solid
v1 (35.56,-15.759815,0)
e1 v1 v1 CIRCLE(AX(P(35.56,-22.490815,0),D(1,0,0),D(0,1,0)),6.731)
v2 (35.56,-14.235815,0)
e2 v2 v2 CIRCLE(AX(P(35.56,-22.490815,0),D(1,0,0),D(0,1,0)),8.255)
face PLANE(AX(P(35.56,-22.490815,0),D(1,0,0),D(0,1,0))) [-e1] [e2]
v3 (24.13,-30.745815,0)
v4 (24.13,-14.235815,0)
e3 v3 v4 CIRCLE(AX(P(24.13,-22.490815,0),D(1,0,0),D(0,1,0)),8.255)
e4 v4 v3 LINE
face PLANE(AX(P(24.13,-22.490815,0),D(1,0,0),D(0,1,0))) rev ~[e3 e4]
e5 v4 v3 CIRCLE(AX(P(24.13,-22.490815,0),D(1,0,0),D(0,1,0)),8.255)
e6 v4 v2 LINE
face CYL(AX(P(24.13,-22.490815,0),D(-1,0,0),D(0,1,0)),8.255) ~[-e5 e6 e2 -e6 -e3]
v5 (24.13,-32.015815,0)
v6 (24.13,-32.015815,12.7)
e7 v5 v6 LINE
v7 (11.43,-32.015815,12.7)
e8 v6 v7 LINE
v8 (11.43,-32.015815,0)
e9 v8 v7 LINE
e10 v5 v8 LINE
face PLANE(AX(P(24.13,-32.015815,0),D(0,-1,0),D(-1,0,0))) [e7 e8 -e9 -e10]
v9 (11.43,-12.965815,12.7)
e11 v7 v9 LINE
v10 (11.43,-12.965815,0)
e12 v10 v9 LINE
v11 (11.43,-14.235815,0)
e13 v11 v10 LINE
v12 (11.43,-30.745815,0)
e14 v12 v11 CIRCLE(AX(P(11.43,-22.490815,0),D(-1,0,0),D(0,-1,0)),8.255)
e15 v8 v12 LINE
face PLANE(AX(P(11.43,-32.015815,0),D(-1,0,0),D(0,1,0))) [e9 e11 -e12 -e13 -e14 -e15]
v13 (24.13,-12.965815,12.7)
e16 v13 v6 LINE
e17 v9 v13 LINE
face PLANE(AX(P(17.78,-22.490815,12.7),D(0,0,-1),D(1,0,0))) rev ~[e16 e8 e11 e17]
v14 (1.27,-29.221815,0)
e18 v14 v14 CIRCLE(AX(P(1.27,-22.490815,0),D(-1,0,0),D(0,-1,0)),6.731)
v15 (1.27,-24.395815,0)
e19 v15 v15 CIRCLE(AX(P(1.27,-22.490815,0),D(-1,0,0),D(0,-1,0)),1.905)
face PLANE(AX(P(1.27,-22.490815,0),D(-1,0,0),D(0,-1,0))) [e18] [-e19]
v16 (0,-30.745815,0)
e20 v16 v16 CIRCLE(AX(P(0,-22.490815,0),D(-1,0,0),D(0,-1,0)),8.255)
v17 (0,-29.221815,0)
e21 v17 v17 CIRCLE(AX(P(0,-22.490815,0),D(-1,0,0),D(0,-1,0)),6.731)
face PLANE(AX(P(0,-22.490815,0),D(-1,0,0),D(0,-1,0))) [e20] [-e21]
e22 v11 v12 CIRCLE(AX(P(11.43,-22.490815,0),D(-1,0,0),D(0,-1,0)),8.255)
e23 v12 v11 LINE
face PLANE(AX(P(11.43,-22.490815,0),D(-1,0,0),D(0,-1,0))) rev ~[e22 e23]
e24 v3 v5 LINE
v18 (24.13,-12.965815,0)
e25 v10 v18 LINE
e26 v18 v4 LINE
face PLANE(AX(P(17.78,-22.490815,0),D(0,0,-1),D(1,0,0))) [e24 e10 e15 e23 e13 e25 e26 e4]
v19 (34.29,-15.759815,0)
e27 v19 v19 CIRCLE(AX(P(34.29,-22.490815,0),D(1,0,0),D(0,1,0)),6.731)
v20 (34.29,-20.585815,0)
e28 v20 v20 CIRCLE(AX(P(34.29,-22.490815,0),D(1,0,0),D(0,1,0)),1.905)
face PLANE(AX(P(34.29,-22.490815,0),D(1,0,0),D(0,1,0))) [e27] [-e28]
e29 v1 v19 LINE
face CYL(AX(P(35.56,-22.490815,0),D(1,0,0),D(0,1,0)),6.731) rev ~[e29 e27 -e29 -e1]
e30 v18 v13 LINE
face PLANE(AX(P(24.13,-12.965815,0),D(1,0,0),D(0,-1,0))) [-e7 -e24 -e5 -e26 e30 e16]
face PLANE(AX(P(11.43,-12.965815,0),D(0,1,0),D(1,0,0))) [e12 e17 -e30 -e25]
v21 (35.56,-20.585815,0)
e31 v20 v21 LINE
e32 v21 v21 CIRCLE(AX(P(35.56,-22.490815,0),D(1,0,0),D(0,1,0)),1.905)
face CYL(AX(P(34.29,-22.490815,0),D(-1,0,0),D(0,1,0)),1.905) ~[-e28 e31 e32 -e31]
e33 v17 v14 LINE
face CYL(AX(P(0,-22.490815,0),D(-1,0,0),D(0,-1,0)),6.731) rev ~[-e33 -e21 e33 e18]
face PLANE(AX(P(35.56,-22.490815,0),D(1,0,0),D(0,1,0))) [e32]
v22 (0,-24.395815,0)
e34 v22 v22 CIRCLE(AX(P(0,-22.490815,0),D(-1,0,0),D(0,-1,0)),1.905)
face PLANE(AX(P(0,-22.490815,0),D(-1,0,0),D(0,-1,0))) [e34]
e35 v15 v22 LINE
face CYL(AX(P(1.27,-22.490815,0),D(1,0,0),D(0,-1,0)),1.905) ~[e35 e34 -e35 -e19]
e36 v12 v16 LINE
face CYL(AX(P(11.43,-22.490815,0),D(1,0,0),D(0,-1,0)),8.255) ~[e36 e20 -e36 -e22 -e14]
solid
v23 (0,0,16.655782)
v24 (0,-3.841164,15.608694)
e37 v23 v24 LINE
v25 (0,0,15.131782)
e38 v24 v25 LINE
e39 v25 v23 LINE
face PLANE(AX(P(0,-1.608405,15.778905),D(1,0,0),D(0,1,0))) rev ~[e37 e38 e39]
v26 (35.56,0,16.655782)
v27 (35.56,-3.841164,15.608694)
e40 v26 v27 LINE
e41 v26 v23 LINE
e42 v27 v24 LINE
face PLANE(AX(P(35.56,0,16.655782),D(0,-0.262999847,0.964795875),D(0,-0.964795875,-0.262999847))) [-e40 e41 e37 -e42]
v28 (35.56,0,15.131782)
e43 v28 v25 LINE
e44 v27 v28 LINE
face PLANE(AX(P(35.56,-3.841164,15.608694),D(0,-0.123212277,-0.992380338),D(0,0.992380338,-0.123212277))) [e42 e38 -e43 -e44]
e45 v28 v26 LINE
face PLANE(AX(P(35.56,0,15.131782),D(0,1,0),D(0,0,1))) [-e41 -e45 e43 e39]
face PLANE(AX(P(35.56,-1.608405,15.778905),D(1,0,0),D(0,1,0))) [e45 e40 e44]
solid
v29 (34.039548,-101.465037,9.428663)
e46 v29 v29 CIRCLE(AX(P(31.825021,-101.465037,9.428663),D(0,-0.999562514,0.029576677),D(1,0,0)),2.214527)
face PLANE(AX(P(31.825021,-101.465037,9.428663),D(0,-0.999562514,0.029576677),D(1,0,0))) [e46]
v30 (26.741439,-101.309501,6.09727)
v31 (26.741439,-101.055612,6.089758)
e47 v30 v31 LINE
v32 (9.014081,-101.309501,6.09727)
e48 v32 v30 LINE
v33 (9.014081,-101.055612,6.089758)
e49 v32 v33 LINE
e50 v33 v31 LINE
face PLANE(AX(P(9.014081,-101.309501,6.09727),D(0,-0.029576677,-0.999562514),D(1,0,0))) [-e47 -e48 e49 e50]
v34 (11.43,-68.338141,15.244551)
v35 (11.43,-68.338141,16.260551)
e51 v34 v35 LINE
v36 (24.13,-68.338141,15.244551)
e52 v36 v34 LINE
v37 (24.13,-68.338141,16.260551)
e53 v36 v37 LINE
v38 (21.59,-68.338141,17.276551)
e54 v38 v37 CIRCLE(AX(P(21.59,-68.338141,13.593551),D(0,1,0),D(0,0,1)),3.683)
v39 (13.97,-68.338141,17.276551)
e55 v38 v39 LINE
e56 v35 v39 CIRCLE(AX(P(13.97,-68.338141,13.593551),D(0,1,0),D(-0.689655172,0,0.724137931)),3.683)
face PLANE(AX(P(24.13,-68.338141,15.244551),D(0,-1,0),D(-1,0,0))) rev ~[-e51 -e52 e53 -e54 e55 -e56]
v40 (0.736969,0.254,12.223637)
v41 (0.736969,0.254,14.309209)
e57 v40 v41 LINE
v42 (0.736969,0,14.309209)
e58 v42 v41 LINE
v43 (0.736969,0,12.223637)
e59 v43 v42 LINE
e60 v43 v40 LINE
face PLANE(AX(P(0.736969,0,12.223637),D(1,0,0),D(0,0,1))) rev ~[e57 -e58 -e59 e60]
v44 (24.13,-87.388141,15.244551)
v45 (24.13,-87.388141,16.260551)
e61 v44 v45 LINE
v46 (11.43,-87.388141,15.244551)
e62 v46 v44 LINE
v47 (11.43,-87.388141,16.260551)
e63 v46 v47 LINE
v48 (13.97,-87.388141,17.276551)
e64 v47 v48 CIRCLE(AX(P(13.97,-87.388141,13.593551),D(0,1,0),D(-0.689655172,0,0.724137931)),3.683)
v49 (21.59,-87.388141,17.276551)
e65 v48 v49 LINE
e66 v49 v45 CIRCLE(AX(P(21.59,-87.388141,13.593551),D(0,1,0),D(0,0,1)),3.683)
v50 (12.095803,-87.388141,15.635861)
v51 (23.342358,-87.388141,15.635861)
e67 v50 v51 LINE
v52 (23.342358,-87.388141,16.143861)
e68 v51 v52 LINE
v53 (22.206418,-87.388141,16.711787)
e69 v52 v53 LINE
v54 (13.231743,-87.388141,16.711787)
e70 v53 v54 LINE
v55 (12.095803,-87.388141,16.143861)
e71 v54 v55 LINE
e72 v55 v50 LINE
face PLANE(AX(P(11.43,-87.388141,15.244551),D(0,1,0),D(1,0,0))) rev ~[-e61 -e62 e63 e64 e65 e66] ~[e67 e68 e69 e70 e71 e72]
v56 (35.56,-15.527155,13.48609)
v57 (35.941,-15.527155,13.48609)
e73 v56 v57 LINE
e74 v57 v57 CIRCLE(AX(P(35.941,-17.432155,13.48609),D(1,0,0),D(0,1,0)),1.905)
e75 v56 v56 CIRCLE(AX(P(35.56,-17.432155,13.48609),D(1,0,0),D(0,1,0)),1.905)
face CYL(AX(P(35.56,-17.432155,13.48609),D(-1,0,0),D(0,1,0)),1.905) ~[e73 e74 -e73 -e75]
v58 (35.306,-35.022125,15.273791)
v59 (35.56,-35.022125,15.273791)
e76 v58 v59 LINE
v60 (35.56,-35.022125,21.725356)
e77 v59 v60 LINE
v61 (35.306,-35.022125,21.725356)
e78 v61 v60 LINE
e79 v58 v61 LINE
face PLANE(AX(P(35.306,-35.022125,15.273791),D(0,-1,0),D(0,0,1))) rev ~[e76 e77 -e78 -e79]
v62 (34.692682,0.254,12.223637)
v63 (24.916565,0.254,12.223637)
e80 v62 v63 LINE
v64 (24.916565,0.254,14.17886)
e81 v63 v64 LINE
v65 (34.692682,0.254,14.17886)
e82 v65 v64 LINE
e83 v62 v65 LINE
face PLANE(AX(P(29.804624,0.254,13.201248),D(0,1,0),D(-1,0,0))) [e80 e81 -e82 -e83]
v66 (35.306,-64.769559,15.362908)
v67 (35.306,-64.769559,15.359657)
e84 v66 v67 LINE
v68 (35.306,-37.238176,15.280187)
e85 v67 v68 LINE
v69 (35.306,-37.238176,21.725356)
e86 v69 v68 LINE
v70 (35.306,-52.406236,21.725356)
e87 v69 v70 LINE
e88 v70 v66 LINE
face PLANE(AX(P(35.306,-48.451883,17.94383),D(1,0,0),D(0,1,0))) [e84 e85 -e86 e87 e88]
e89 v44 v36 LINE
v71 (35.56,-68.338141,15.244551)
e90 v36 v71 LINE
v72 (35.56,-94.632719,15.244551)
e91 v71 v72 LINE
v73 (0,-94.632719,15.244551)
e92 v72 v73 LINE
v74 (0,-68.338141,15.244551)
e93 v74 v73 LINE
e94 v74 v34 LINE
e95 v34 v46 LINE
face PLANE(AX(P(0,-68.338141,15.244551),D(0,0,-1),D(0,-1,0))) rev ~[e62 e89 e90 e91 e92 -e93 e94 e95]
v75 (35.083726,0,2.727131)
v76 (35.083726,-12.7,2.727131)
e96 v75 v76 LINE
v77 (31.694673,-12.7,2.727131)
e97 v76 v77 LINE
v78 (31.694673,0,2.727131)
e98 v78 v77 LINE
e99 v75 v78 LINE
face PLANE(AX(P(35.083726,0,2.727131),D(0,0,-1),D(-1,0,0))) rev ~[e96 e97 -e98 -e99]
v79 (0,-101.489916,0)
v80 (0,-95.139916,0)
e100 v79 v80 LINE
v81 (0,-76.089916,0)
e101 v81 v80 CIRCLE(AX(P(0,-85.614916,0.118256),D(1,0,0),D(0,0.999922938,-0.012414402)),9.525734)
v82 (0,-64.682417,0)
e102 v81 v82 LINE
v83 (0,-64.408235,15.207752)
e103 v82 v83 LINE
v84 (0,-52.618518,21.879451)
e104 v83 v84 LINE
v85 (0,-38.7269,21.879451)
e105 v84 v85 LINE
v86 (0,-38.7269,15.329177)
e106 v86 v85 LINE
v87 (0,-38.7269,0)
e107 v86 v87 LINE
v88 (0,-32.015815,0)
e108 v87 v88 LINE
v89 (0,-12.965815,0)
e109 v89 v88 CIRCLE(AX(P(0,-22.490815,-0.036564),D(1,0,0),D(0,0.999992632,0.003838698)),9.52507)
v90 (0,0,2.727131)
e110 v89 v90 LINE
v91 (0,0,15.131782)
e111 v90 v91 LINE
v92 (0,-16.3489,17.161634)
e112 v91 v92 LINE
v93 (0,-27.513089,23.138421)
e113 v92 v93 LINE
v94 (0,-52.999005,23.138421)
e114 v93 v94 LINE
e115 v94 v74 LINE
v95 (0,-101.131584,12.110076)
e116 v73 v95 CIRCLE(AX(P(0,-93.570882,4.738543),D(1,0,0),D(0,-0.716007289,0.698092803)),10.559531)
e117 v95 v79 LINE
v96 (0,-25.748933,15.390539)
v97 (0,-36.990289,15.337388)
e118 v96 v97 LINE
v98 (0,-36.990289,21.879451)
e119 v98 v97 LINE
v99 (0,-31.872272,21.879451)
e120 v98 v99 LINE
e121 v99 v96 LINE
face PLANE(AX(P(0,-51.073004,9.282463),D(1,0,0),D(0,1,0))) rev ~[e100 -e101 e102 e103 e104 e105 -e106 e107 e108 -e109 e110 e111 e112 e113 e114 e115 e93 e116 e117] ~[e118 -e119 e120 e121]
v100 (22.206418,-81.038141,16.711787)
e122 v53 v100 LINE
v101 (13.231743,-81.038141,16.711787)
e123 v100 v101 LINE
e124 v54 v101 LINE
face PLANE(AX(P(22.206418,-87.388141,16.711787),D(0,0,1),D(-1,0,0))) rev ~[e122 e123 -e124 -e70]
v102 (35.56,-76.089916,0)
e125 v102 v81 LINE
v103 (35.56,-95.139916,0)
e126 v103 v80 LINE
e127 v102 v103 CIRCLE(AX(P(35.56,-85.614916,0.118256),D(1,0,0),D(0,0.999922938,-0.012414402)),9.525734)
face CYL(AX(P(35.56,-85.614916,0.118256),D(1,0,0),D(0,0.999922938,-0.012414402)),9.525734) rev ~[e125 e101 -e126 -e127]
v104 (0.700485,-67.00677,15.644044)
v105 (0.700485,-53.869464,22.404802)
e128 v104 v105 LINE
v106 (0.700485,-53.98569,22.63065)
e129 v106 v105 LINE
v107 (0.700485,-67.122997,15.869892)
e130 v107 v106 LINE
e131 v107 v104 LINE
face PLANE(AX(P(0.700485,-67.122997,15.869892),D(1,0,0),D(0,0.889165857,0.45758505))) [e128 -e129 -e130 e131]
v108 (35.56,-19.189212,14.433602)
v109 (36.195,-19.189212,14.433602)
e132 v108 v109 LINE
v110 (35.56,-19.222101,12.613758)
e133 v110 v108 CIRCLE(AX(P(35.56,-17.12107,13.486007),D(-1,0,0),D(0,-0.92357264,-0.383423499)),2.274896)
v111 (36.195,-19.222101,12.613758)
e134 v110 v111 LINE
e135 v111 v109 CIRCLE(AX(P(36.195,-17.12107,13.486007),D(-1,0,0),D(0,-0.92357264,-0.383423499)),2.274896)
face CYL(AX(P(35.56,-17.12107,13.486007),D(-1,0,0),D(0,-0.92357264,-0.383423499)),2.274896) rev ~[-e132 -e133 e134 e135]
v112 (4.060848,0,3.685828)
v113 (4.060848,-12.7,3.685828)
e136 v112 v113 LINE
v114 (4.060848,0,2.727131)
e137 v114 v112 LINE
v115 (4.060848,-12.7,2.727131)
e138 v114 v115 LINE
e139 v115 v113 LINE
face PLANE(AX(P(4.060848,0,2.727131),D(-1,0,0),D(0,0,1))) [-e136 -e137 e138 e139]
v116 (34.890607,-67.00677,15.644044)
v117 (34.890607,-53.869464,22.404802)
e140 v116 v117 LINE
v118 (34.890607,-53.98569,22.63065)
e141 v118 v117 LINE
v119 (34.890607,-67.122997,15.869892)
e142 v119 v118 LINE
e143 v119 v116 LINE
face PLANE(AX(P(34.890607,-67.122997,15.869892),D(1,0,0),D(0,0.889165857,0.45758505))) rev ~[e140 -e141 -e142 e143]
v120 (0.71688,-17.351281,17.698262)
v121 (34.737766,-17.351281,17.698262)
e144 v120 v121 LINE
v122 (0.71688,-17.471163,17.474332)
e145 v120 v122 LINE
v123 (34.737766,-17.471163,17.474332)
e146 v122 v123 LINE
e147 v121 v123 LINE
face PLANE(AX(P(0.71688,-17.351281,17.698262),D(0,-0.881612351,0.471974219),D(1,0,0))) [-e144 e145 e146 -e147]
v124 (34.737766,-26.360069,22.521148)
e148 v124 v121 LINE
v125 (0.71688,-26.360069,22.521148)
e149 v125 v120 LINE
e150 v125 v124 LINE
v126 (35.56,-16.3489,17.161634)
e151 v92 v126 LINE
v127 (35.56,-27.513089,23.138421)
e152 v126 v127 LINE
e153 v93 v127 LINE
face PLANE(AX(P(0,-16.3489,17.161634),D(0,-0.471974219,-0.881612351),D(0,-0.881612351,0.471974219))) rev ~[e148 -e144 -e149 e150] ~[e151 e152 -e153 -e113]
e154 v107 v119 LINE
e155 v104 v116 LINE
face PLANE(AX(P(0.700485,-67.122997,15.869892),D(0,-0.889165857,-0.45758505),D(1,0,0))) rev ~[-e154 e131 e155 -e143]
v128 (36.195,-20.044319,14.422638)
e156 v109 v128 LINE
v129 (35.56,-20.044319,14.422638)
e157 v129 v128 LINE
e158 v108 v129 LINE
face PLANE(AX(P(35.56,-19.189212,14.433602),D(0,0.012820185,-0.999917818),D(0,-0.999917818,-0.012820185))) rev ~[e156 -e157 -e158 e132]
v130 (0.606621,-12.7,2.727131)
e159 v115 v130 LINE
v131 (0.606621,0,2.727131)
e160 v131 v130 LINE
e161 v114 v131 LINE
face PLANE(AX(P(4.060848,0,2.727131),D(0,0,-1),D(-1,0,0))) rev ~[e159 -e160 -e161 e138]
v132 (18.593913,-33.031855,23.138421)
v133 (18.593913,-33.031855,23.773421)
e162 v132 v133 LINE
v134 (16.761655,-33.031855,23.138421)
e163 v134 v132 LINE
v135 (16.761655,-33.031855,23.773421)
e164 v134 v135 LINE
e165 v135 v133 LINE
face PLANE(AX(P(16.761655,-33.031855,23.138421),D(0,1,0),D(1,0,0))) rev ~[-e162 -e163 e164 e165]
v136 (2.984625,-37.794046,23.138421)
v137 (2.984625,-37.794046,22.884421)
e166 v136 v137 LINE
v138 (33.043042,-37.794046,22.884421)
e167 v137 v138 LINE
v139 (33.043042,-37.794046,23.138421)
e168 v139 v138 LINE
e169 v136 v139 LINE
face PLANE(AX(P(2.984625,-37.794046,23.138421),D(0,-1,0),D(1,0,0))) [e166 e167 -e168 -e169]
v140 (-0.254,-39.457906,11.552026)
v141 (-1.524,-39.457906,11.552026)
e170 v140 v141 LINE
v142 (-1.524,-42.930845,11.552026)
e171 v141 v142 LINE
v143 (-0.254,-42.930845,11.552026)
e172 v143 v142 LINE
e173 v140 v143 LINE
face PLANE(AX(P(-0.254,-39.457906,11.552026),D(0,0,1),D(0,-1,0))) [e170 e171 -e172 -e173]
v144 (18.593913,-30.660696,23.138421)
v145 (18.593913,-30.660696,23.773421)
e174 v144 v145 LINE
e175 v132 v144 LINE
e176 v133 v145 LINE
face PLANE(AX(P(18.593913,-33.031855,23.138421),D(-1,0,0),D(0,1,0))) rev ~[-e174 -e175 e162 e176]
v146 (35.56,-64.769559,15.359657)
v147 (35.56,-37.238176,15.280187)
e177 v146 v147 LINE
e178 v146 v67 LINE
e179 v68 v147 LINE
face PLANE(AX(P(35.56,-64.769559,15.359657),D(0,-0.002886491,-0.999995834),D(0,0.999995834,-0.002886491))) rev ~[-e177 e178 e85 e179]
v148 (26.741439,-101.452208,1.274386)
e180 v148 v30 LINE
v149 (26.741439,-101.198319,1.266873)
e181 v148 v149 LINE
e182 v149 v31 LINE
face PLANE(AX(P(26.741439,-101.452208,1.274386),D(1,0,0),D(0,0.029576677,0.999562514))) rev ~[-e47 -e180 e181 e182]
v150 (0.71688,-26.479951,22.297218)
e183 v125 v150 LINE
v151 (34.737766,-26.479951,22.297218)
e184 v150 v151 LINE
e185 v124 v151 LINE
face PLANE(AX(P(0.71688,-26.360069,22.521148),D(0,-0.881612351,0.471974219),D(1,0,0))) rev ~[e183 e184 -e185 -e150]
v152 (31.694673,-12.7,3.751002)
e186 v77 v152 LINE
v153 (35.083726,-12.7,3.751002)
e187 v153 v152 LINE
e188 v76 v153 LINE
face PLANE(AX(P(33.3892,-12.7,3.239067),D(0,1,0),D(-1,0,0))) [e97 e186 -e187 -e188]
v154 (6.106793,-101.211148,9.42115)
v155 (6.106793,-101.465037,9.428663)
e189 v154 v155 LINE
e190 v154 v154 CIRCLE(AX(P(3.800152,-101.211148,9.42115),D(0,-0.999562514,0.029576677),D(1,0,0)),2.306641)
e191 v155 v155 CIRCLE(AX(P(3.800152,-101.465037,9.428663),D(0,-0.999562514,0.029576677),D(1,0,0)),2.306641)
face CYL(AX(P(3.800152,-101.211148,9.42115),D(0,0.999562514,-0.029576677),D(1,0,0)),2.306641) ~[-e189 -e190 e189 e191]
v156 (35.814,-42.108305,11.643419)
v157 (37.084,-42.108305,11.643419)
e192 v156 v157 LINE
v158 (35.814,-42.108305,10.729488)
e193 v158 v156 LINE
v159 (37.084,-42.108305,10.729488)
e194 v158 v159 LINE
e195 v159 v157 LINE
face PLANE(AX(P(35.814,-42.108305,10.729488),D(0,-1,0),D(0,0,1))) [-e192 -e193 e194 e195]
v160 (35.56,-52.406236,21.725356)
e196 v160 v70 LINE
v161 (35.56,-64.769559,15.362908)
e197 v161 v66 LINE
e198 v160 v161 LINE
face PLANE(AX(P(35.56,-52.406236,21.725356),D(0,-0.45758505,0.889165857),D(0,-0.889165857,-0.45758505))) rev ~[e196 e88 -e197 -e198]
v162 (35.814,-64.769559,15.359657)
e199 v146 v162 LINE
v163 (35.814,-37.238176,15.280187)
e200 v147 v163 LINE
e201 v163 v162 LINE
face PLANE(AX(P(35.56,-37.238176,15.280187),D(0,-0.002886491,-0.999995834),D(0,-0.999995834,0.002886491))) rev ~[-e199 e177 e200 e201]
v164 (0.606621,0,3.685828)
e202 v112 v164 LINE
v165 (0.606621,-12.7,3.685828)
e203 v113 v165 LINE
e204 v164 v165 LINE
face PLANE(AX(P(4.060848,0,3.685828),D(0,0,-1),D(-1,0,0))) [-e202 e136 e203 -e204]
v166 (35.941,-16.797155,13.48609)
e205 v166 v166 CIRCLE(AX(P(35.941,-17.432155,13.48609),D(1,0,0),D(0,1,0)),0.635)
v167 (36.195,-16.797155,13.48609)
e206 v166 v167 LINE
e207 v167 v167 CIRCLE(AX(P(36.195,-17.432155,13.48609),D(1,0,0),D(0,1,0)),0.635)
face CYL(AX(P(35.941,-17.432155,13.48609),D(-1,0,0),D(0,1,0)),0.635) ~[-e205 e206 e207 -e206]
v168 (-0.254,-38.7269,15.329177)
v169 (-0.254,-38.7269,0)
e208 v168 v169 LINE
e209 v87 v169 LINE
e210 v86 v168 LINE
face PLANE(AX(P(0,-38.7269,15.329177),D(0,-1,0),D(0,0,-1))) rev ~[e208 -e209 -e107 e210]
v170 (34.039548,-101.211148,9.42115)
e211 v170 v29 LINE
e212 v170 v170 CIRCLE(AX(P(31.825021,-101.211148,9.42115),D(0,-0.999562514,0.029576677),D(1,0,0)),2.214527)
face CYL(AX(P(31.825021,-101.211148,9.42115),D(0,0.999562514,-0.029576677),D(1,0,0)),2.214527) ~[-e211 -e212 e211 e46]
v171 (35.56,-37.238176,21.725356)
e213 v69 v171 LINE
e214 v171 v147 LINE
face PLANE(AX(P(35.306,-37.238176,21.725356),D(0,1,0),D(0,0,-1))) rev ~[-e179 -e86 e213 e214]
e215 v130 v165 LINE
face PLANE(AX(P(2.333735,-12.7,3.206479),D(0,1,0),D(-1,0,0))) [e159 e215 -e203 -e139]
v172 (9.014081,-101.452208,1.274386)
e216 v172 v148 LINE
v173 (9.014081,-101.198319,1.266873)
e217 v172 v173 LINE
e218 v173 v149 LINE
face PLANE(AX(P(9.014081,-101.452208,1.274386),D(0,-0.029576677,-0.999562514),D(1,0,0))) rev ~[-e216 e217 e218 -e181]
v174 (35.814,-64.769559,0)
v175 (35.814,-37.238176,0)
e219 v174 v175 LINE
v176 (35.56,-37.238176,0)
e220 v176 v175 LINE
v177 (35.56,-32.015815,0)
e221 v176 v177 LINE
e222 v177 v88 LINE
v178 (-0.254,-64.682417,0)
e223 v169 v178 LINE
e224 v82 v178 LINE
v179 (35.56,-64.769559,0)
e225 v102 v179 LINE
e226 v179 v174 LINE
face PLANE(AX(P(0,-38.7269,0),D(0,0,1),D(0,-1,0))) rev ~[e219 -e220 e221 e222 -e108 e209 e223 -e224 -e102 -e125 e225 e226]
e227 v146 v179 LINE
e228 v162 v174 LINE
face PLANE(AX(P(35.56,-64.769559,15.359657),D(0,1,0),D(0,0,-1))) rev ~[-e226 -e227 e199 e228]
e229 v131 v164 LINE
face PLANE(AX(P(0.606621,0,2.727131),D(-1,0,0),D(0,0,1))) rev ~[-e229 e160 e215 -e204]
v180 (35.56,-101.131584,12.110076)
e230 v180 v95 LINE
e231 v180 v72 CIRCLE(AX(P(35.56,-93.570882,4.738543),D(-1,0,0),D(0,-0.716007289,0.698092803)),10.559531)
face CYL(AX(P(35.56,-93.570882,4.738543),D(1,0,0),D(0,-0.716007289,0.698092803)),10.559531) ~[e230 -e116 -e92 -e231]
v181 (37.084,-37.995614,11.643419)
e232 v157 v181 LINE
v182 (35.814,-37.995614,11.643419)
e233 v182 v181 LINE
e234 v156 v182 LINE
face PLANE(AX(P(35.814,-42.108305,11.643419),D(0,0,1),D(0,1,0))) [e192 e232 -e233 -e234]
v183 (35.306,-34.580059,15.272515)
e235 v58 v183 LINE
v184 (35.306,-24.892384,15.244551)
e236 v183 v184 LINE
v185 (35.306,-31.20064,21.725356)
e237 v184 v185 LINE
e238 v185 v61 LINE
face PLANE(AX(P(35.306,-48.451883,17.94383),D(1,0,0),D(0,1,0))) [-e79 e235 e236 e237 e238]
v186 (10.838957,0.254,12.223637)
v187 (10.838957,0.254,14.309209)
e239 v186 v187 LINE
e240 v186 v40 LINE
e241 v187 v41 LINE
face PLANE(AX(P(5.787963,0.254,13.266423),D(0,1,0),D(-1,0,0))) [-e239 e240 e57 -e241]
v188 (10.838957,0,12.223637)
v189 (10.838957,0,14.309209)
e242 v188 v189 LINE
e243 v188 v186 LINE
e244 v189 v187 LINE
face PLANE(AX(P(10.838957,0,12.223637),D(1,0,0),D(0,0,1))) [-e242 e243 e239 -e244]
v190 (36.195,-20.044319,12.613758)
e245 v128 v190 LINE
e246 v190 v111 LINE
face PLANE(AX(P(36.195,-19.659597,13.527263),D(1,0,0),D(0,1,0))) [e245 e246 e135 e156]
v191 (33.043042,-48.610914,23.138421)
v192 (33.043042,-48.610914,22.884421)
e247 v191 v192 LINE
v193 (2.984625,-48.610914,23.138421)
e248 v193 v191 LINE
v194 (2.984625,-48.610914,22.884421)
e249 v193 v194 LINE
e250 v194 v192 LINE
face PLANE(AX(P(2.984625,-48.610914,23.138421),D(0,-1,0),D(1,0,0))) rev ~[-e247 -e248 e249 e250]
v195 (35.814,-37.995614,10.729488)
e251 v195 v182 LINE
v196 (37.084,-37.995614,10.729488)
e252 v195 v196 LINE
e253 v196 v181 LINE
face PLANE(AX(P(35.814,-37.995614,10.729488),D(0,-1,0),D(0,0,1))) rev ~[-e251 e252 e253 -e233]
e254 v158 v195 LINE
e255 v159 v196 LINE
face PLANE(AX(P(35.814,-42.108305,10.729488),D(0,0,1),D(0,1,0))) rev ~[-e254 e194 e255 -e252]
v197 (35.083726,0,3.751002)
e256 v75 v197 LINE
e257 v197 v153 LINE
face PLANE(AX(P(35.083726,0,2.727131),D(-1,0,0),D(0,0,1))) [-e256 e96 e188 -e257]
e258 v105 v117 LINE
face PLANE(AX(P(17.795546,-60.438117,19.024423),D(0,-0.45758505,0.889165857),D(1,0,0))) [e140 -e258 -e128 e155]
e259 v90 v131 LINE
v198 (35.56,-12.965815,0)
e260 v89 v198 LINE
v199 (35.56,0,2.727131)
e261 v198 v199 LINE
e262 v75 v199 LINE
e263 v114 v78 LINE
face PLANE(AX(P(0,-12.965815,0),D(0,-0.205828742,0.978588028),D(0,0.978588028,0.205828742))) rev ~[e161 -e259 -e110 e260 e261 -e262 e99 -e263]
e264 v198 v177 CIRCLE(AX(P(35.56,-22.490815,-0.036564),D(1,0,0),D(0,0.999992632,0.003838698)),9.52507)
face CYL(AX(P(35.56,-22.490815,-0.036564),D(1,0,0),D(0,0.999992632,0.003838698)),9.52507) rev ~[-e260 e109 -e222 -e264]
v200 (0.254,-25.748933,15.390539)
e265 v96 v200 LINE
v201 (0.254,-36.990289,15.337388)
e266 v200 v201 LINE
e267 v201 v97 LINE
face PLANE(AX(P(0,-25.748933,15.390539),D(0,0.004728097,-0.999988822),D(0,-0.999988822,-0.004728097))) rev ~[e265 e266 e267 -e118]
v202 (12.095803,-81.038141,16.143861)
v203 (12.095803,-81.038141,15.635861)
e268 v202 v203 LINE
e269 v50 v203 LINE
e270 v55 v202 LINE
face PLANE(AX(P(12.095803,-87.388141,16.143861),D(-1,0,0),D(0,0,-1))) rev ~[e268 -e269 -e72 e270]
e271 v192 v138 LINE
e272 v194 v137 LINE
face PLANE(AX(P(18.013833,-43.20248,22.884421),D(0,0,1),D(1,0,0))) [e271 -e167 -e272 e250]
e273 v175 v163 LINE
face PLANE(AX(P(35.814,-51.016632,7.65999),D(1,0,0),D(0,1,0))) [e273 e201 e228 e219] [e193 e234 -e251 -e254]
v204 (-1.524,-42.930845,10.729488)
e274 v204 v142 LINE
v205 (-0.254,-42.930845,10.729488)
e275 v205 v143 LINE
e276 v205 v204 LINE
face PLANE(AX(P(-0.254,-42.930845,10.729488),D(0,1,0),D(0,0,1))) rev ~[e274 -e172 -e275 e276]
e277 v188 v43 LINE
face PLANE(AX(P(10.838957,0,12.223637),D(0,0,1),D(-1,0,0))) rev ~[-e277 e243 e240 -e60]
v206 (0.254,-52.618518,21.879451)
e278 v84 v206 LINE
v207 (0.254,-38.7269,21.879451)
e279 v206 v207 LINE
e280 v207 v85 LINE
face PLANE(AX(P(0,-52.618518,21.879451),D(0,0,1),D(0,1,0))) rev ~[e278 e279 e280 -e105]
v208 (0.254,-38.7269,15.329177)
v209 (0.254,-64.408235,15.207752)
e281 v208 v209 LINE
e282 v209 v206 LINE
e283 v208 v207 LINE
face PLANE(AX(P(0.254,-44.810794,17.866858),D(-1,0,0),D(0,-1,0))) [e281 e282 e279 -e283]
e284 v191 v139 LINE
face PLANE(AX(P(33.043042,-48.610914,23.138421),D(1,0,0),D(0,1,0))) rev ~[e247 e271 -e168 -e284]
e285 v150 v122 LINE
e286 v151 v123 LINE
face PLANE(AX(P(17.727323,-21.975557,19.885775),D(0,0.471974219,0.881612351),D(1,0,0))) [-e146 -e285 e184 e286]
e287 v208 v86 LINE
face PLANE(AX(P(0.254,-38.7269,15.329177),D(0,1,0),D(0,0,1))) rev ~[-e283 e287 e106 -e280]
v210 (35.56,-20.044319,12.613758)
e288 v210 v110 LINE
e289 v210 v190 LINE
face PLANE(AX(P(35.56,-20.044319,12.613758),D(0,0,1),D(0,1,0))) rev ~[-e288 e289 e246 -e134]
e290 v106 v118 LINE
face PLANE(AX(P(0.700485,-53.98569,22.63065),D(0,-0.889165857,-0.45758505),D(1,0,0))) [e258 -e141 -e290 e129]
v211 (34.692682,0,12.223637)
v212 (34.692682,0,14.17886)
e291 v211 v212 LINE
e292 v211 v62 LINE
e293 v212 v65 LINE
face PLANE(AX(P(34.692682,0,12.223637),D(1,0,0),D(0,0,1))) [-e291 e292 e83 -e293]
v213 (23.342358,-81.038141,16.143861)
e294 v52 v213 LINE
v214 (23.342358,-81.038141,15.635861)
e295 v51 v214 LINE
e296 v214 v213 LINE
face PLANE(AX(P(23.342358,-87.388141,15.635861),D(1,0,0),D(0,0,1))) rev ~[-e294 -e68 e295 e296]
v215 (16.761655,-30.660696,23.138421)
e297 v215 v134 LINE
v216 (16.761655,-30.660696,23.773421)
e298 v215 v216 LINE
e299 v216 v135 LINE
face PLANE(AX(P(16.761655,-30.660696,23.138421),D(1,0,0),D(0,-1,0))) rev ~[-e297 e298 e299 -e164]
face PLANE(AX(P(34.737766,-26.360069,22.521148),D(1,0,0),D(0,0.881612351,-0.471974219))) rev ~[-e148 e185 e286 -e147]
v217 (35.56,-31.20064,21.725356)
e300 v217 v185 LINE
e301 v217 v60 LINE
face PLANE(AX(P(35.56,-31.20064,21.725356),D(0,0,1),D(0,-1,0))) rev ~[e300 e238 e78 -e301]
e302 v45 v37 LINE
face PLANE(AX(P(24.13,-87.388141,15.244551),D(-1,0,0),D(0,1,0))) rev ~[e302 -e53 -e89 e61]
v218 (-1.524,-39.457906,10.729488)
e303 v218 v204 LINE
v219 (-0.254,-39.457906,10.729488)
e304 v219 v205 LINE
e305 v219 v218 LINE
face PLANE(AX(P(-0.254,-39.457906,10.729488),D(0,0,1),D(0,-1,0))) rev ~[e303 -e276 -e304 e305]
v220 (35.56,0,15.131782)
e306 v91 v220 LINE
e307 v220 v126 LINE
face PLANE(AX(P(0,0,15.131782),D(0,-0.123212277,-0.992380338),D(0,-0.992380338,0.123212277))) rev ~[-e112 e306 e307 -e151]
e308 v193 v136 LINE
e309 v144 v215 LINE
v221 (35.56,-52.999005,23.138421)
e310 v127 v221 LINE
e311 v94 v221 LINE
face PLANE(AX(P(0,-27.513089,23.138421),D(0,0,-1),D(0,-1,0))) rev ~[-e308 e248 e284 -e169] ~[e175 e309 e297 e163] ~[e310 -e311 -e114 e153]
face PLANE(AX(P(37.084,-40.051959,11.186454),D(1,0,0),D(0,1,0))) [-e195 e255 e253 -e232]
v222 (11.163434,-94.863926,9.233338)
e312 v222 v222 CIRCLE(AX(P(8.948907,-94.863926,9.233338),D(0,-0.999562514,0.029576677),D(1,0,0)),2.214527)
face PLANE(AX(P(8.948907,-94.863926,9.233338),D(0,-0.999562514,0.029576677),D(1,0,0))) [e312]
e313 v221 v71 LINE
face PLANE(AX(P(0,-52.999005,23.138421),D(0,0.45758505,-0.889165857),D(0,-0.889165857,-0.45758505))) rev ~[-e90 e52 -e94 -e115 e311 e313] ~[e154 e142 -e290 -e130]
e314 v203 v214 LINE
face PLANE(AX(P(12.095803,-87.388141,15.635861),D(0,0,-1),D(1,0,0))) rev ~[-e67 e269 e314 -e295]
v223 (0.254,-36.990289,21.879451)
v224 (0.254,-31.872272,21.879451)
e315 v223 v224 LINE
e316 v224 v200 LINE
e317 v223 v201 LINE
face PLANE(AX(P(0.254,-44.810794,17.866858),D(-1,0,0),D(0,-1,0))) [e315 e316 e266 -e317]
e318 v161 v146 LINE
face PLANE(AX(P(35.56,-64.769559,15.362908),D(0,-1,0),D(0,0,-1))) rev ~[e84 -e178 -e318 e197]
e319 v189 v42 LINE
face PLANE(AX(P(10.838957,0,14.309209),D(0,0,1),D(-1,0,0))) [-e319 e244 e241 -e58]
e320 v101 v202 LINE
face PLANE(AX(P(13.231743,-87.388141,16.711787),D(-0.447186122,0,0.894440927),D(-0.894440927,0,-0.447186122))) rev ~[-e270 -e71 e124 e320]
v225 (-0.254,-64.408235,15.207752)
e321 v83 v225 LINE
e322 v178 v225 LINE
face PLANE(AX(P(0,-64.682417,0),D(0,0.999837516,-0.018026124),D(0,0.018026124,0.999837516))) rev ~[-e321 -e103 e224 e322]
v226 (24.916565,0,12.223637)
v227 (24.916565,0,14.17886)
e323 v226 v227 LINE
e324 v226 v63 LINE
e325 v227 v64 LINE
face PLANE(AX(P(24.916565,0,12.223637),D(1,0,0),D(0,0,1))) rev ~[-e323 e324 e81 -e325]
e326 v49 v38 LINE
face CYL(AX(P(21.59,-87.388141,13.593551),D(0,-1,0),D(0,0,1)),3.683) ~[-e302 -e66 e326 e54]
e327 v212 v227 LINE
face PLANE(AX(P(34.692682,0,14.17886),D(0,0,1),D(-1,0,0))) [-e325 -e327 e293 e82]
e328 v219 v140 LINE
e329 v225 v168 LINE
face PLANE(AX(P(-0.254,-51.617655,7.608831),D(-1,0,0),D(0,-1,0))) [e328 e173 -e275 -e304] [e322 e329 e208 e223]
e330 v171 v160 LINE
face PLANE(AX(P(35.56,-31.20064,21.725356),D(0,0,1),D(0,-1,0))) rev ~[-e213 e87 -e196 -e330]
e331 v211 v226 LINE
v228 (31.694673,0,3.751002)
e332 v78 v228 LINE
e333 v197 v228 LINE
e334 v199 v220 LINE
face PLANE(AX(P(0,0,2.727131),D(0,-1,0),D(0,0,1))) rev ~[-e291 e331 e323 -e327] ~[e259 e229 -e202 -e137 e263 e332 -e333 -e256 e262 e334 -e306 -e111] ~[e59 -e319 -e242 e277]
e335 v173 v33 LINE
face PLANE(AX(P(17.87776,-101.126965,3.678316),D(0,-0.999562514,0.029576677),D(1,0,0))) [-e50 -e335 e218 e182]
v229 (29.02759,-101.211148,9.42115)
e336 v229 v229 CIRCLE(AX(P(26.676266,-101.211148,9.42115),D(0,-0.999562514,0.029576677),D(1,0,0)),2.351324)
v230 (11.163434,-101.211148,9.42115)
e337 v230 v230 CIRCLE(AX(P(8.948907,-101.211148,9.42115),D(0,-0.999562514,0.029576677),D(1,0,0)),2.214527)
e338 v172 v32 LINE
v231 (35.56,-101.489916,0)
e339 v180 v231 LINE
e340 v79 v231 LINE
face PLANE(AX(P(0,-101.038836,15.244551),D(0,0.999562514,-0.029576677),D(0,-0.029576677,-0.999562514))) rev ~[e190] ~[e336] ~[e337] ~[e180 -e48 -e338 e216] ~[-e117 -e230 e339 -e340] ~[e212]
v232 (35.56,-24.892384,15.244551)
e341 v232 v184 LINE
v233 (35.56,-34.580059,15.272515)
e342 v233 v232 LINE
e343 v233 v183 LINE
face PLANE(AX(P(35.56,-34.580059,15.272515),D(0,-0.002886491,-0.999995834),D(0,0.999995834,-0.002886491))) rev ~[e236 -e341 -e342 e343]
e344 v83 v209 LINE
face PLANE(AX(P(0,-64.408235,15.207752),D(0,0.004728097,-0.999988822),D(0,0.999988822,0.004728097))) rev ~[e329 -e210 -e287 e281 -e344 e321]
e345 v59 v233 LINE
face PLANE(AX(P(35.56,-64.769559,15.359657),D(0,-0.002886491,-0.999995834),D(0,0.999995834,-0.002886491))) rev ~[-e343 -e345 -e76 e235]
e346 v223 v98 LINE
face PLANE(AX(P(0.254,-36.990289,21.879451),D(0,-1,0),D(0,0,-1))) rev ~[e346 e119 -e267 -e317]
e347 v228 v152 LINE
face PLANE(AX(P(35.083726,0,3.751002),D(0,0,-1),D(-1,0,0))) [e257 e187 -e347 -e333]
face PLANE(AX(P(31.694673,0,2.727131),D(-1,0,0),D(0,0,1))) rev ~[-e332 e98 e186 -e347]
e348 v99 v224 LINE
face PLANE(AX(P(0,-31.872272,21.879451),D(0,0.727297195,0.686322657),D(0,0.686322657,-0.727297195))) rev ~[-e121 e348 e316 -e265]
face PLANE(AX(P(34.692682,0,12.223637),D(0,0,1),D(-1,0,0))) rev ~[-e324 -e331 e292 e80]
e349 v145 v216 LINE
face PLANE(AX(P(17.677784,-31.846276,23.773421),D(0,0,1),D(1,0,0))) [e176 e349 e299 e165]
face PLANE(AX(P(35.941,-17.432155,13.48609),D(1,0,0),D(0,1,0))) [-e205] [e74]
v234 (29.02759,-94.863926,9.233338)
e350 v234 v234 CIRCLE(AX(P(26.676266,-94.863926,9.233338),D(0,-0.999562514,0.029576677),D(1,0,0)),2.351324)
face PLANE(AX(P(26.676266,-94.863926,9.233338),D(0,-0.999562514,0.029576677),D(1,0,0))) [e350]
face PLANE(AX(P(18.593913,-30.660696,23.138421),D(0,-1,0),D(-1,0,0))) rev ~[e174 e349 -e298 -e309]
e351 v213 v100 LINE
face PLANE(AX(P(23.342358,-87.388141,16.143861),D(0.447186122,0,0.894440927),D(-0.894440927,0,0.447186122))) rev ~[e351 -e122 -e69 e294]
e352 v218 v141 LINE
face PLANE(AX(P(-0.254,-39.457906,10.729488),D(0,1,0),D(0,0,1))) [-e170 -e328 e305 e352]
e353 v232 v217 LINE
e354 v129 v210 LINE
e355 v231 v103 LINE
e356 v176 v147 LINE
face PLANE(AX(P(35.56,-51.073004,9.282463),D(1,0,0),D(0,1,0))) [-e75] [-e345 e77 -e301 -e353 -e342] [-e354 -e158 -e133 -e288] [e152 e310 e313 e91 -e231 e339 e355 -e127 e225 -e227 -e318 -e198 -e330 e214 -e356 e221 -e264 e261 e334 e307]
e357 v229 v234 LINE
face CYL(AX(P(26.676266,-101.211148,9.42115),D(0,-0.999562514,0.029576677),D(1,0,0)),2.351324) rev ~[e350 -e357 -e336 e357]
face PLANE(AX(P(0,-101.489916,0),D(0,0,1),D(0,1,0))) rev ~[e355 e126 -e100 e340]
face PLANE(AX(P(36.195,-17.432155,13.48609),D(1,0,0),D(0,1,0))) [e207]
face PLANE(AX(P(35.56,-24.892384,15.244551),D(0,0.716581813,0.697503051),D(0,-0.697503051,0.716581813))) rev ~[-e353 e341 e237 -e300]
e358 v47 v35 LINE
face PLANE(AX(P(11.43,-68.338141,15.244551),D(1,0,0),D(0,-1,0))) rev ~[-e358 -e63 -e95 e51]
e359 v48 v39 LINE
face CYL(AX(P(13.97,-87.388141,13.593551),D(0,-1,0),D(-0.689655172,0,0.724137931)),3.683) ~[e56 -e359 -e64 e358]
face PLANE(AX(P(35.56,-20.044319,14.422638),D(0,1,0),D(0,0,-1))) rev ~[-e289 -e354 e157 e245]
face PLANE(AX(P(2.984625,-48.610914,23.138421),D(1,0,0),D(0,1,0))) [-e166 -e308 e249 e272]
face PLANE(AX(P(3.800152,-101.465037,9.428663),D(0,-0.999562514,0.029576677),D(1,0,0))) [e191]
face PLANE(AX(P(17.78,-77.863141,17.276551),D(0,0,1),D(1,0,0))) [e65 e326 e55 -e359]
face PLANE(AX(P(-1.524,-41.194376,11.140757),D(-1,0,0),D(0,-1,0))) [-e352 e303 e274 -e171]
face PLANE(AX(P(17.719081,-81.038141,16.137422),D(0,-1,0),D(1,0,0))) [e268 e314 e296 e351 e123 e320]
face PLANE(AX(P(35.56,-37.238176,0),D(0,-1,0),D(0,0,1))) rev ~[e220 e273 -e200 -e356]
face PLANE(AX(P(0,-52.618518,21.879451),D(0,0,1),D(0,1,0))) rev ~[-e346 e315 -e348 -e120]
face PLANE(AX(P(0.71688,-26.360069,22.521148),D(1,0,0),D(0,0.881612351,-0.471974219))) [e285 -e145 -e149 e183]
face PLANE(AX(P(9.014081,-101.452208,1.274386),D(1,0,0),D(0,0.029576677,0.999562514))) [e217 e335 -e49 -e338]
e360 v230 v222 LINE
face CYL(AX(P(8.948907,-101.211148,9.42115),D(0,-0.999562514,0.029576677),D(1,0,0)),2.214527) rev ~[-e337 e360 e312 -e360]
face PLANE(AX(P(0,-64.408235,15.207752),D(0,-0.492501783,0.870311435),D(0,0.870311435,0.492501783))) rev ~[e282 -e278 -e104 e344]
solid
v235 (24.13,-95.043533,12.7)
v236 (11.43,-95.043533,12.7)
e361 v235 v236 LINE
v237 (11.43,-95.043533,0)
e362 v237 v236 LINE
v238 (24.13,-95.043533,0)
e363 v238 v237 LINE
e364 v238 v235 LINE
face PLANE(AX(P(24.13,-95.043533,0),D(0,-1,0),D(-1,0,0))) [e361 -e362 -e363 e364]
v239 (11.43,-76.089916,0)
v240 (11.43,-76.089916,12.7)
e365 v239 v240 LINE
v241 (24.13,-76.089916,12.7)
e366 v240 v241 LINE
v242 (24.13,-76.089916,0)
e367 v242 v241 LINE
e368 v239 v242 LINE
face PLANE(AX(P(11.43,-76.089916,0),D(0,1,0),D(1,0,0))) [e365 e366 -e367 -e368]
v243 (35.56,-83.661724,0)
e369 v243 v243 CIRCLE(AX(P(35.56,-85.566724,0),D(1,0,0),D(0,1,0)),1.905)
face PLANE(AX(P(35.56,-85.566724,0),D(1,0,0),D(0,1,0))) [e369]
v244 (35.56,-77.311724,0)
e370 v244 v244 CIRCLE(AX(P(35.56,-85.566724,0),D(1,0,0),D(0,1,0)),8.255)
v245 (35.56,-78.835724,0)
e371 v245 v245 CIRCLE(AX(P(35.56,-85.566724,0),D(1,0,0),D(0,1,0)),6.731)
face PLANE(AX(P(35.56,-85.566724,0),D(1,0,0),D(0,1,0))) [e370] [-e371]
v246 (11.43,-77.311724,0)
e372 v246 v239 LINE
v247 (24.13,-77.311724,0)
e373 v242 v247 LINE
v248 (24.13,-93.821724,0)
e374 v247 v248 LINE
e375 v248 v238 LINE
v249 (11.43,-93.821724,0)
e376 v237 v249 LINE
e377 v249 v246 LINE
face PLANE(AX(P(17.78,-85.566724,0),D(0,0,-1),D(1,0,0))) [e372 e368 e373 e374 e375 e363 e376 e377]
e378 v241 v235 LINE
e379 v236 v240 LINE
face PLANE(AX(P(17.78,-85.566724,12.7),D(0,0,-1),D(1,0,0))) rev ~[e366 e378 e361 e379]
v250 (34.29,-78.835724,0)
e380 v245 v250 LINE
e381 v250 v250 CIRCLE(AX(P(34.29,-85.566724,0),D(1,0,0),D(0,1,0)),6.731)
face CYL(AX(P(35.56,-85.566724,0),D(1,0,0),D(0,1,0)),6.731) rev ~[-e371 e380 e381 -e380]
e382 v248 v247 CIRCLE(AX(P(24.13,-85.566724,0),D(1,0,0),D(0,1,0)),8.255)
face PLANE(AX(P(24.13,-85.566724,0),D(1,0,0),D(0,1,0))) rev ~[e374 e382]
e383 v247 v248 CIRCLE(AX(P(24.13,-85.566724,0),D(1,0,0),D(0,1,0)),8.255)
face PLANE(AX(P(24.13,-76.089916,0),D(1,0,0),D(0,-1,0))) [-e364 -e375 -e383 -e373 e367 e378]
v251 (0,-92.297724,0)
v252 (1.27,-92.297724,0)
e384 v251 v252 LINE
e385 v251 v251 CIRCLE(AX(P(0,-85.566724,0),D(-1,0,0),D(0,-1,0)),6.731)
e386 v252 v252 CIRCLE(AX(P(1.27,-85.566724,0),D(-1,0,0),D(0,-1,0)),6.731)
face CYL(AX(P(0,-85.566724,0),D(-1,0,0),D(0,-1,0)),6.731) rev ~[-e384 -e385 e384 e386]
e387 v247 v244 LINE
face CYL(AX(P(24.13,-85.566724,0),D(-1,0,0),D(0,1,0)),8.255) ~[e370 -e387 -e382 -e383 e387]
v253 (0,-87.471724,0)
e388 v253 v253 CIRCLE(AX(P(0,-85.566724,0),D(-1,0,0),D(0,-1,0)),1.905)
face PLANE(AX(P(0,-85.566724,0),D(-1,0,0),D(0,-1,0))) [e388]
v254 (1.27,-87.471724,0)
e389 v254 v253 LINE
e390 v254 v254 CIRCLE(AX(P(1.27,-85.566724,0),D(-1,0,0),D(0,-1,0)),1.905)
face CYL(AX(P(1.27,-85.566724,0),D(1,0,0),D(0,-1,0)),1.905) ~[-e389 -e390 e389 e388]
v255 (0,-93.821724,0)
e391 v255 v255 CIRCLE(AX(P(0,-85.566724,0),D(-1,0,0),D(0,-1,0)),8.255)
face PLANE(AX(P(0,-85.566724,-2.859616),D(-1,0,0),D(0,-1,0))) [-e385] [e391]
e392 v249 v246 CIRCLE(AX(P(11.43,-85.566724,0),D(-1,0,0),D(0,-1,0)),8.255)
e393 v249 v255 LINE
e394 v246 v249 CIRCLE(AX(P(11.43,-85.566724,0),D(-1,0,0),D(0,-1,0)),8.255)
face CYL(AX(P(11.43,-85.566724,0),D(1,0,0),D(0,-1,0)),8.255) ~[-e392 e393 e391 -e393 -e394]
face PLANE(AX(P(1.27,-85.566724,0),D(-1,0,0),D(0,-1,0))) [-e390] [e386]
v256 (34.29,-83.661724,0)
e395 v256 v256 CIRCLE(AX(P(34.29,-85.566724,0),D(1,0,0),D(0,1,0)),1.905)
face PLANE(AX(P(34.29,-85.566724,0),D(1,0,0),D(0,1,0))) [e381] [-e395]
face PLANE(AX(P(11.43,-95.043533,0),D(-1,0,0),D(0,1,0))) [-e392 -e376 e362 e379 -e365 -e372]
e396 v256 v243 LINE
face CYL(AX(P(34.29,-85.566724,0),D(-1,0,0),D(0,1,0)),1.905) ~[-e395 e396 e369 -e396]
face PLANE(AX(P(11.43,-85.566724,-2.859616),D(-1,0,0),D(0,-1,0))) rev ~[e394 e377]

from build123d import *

# Parameters (mm, degrees)
F1_DEPTH  = 35.56
F3_DEPTH  = 35.561
F5_DEPTH  = 35.561
F7_DEPTH  = 35.56
F9_DEPTH  = 0.635
F10_W     = 30.0584170036
F10_H     = 10.8168683946
F11_DEPTH = 0.254
F13_DEPTH = 12.7
F15_DEPTH = 12.7
F16_W     = 34.1901219799
F16_H     = 14.7748664021
F17_DEPTH = 0.254
F19_DEPTH = 2.032
F21_DEPTH = 19.05
F23_DEPTH = 6.35
F24_R     = 1.905
F25_DEPTH = 0.381
F26_R     = 0.635
F27_DEPTH = 0.254
F28_R     = 8.255
F29_DEPTH = 11.43
F30_R     = 6.731
F31_DEPTH = 1.27
F32_R     = 1.905
F33_DEPTH = 1.27
F34_R     = 8.255
F35_DEPTH = 11.43
F36_R     = 6.731
F37_DEPTH = 1.27
F38_R     = 1.905
F39_DEPTH = 1.27
F41_DEPTH = 0.635
F42_R     = 8.255
F43_DEPTH = 11.43
F44_R     = 6.731
F45_DEPTH = 1.27
F46_R     = 1.905
F47_DEPTH = 1.27
F49_DEPTH = 11.43
F50_R     = 6.731
F51_DEPTH = 1.27
F52_R     = 1.905
F53_DEPTH = 1.27
F55_DEPTH = 0.254
F57_DEPTH = 0.254
F59_DEPTH = 0.254
F60_W     = 4.1126906872
F60_H     = 0.9139310569
F61_DEPTH = 1.27
F62_W     = 34.0208858252
F62_H     = 10.2185364813
F63_DEPTH = 0.254
F65_DEPTH = 0.254
F67_DEPTH = 0.254
F69_DEPTH = 0.254
F70_W     = 3.4729391336
F70_H     = 0.8225375786
F71_DEPTH = 1.27
F72_W     = 3.3890530467
F72_H     = 1.0238718241
F72_W_2   = 3.4542271751
F72_H_2   = 0.9586976375
F73_DEPTH = 12.7
F74_W     = 9.7761172801
F74_H     = 1.9552232698
F74_W_2   = 10.1019873982
F74_H_2   = 2.0855721086
F75_DEPTH = 0.254
F77_R     = 2.2145270419
F77_R_2   = 2.35132432
F78_DEPTH = 6.35
F79_R     = 2.3066409475
F79_R_2   = 2.2145270419
F80_DEPTH = 0.254
F81_W     = 17.7273582667
F81_H     = 4.8249950632
F82_DEPTH = 0.254


with BuildPart() as f1:
    # F0 (on Right) → F1 (new body)
    with BuildSketch(Plane.YZ):
        Polygon((-68.3381408453, 15.244551003), (-101.0388359427, 15.244551003), (-101.4899164438, 0), (-95.4003557563, 0), (-76.2295350432, 0), (-31.6855609417, 0), (-12.9658151418, 0), (0, 2.7271306608), (0, 15.131781809), (-16.3489002734, 17.1616338193), (-27.5130886585, 23.1384206563), (-52.9990047216, 23.1384206563), (-62.6971870661, 15.244551003), align=None)
        Polygon((-52.9990047216, 23.1384206563), (-68.3381408453, 15.244551003), (-62.6971870661, 15.244551003), align=None)
    extrude(amount=F1_DEPTH)

    # F2 (on face) → F3 (cut, through all)
    with BuildSketch(Plane.YZ.offset(35.56)):
        with BuildLine():
            ThreePointArc((-101.1315838821, 12.1100756978), (-98.1581770917, 14.2496116989), (-94.6327185369, 15.244551003))
            Line((-94.6327185369, 15.244551003), (-101.0388359427, 15.244551003))
            Line((-101.0388359427, 15.244551003), (-101.1315838821, 12.1100756978))
        make_face()
    extrude(amount=-F3_DEPTH, mode=Mode.SUBTRACT)

    # F4 (on face) → F5 (cut, through all)
    with BuildSketch(Plane.YZ.offset(35.56)):
        with BuildLine():
            Line((-95.1399164438, 0), (-76.0899164438, 0))
            ThreePointArc((-76.0899164438, 0), (-85.6149164438, 9.6439903584), (-95.1399164438, 0))
        make_face()
        with BuildLine():
            ThreePointArc((-12.9658151418, 0), (-22.4908151418, 9.4885063076), (-32.0158151418, 0))
            Line((-32.0158151418, 0), (-12.9658151418, 0))
        make_face()
    extrude(amount=-F5_DEPTH, mode=Mode.SUBTRACT)

    # F8 (on face) → F9 (join)
    with BuildSketch(Plane.XY.offset(23.1384206563)):
        Polygon((16.7616549879, -33.0318547785), (17.78, -33.0318547785), (18.5939129442, -33.0318547785), (18.5939129442, -30.6606963277), (16.7616549879, -30.6606963277), align=None)
    extrude(amount=F9_DEPTH)

    # F10 (on face) → F11 (cut)
    with BuildSketch(Plane.XY.offset(23.1384206563)):
        with Locations((18.0138333235, -43.2024803013)):
            Rectangle(F10_W, F10_H)
    extrude(amount=-F11_DEPTH, mode=Mode.SUBTRACT)

    # F16 (on face) → F17 (cut)
    with BuildSketch(Plane(origin=(0, -20.5114539171, 39.8572560158), x_dir=(1, 0, 0), z_dir=(0, -0.4575850504, 0.8891658572))):
        with Locations((17.7955460094, -45.0342185795)):
            Rectangle(F16_W, F16_H)
    extrude(amount=-F17_DEPTH, mode=Mode.SUBTRACT)

    # F18 (on face) → F19 (join)
    with BuildSketch(Plane.XY.offset(15.244551003)):
        Polygon((24.13, -68.3381408453), (17.78, -68.3381408453), (11.43, -68.3381408453), (11.43, -87.3881408453), (24.13, -87.3881408453), align=None)
    extrude(amount=F19_DEPTH)

    # F20 (on face) → F21 (cut)
    with BuildSketch(Plane.XZ.offset(87.3881408453)):
        with BuildLine():
            ThreePointArc((11.43, 16.260551003), (12.602168139, 17.0131306555), (13.97, 17.276551003))
            Line((13.97, 17.276551003), (11.43, 17.276551003))
            Line((11.43, 17.276551003), (11.43, 16.260551003))
        make_face()
        with BuildLine():
            Line((24.13, 17.276551003), (21.59, 17.276551003))
            ThreePointArc((21.59, 17.276551003), (22.957831861, 17.0131306555), (24.13, 16.260551003))
            Line((24.13, 16.260551003), (24.13, 17.276551003))
        make_face()
    extrude(amount=-F21_DEPTH, mode=Mode.SUBTRACT)

    # F22 (on face) → F23 (cut)
    with BuildSketch(Plane.XZ.offset(87.3881408453)):
        Polygon((12.0958033949, 16.1438610839), (12.0958033949, 15.6358610839), (23.3423581936, 15.6358610839), (23.3423581936, 16.1438610839), (22.2064182162, 16.7117874593), (13.2317433723, 16.7117874593), align=None)
    extrude(amount=-F23_DEPTH, mode=Mode.SUBTRACT)

    # F24 (on face) → F25 (join)
    with BuildSketch(Plane.YZ.offset(35.56)):
        with Locations((-17.4321550876, 13.4860901162)):
            Circle(F24_R)
    extrude(amount=F25_DEPTH)

    # F26 (on face) → F27 (join)
    with BuildSketch(Plane.YZ.offset(35.941)):
        with Locations((-17.4321550876, 13.4860901162)):
            Circle(F26_R)
    extrude(amount=F27_DEPTH)

    # F40 (on face) → F41 (join)
    with BuildSketch(Plane.YZ.offset(35.56)):
        with BuildLine():
            ThreePointArc((-19.2221011966, 12.6137584448), (-19.3955940618, 13.5271127573), (-19.1892124712, 14.4336018711))
            Line((-19.1892124712, 14.4336018711), (-20.0443193316, 14.4226383418))
            Line((-20.0443193316, 14.4226383418), (-20.0443193316, 12.6137584448))
            Line((-20.0443193316, 12.6137584448), (-19.2221011966, 12.6137584448))
        make_face()
    extrude(amount=F41_DEPTH)

    # F54 (on face) → F55 (cut)
    with BuildSketch(Plane.YZ.offset(35.56)):
        Polygon((-52.40623624, 21.7253560872), (-64.7695586085, 15.3629081324), (-64.7695586085, 15.3596565788), (-34.5800593495, 15.2725145045), (-34.5800593495, 21.7253560872), align=None)
        Polygon((-31.2006399035, 21.7253560872), (-34.5800593495, 21.7253560872), (-34.5800593495, 15.2725145045), (-24.8923841864, 15.244551003), align=None)
    extrude(amount=-F55_DEPTH, mode=Mode.SUBTRACT)

    # F56 (on face) → F57 (join)
    with BuildSketch(Plane.YZ.offset(35.306)):
        Polygon((-35.0221246481, 15.2737905272), (-35.0221246481, 21.7253560872), (-37.2381757198, 21.7253560872), (-37.2381757198, 15.2801871649), align=None)
    extrude(amount=F57_DEPTH)

    # F58 (on face) → F59 (join)
    with BuildSketch(Plane.YZ.offset(35.56)):
        Polygon((-37.2381757198, 0), (-37.2381757198, 15.2801871649), (-64.7695586085, 15.3596565788), (-64.7695586085, 0), align=None)
    extrude(amount=F59_DEPTH)

    # F60 (on face) → F61 (join)
    with BuildSketch(Plane.YZ.offset(35.814)):
        with Locations((-40.051959455, 11.1864535138)):
            Rectangle(F60_W, F60_H)
    extrude(amount=F61_DEPTH)

    # F62 (on face) → F63 (cut)
    with BuildSketch(Plane(origin=(0, 3.4990511465, 6.5359644293), x_dir=(1, 0, 0), z_dir=(0, 0.4719742189, 0.8816123506))):
        with Locations((17.7273228765, -28.7594953552)):
            Rectangle(F62_W, F62_H)
    extrude(amount=-F63_DEPTH, mode=Mode.SUBTRACT)

    # F64 (on face) → F65 (cut)
    with BuildSketch(Plane(origin=(0, 0, 0), x_dir=(0, -1, 0), z_dir=(-1, 0, 0))):
        Polygon((25.7489327341, 15.3905386105), (64.4082352519, 15.2077516541), (52.6185184717, 21.8794513494), (31.8722724915, 21.8794513494), align=None)
    extrude(amount=-F65_DEPTH, mode=Mode.SUBTRACT)

    # F66 (on face) → F67 (join)
    with BuildSketch(Plane(origin=(0.254, 0, 0), x_dir=(0, -1, 0), z_dir=(-1, 0, 0))):
        Polygon((38.7269002063, 21.8794513494), (36.990288645, 21.8794513494), (36.990288645, 15.3373878008), (38.7269002063, 15.3291768419), align=None)
    extrude(amount=F67_DEPTH)

    # F68 (on face) → F69 (join)
    with BuildSketch(Plane(origin=(0, 0, 0), x_dir=(0, -1, 0), z_dir=(-1, 0, 0))):
        Polygon((64.4082352519, 15.2077516541), (38.7269002063, 15.3291768419), (38.7269002063, 0), (64.6824166179, 0), align=None)
    extrude(amount=F69_DEPTH)

    # F70 (on face) → F71 (join)
    with BuildSketch(Plane(origin=(-0.254, 0, 0), x_dir=(0, -1, 0), z_dir=(-1, 0, 0))):
        with Locations((41.1943756044, 11.1407567747)):
            Rectangle(F70_W, F70_H)
    extrude(amount=F71_DEPTH)

    # F72 (on face) → F73 (cut)
    with BuildSketch(Plane(origin=(0, 0, 0), x_dir=(-1, 0, 0), z_dir=(0, 1, 0))):
        with Locations((-33.3891995251, 3.2390665729)):
            Rectangle(F72_W, F72_H)
        with Locations((-2.3337345629, 3.2064794796)):
            Rectangle(F72_W_2, F72_H_2)
    extrude(amount=-F73_DEPTH, mode=Mode.SUBTRACT)

    # F74 (on face) → F75 (join)
    with BuildSketch(Plane(origin=(0, 0, 0), x_dir=(-1, 0, 0), z_dir=(0, 1, 0))):
        with Locations((-29.8046236858, 13.2012483664)):
            Rectangle(F74_W, F74_H)
        with Locations((-5.787962873, 13.2664227858)):
            Rectangle(F74_W_2, F74_H_2)
    extrude(amount=F75_DEPTH)

    # F77 (on face) → F78 (cut)
    with BuildSketch(Plane(origin=(0, -101.4011351132, 3.000421254), x_dir=(1, 0, 0), z_dir=(0, -0.9995625144, 0.0295766769))):
        with Locations((8.9489072561, 6.4235390164)):
            Circle(F77_R)
        with Locations((26.6762655228, 6.4235390164)):
            Circle(F77_R_2)
    extrude(amount=-F78_DEPTH, mode=Mode.SUBTRACT)

    # F79 (on face) → F80 (join)
    with BuildSketch(Plane(origin=(0, -101.4011351132, 3.000421254), x_dir=(1, 0, 0), z_dir=(0, -0.9995625144, 0.0295766769))):
        with Locations((3.8001518697, 6.4235390164)):
            Circle(F79_R)
        with Locations((31.8250209093, 6.4235390164)):
            Circle(F79_R_2)
    extrude(amount=F80_DEPTH)

    # F81 (on face) → F82 (cut)
    with BuildSketch(Plane(origin=(0, -101.4011351132, 3.000421254), x_dir=(1, 0, 0), z_dir=(0, -0.9995625144, 0.0295766769))):
        with Locations((17.8777603433, 0.6857067347)):
            Rectangle(F81_W, F81_H)
    extrude(amount=-F82_DEPTH, mode=Mode.SUBTRACT)


with BuildPart() as f7:
    # F6 (on face) → F7 (new body)
    with BuildSketch(Plane.YZ.offset(35.56)):
        Polygon((-3.8411644735, 15.6086943412), (0, 15.131781809), (0, 16.655781809), align=None)
    extrude(amount=-F7_DEPTH)


with BuildPart() as f13:
    # F12 (on face) → F13 (new body)
    with BuildSketch(Plane(origin=(0, 0, 0), x_dir=(1, 0, 0), z_dir=(0, 0, -1))):
        Polygon((11.43, 76.0899164438), (17.78, 76.0899164438), (24.13, 76.0899164438), (24.13, 95.0435325503), (11.43, 95.0435325503), align=None)
    extrude(amount=-F13_DEPTH)

    # F28 (on face) → F29 (join)
    with BuildSketch(Plane.YZ.offset(24.13)):
        with Locations((-85.5667244971, 0)):
            Circle(F28_R)
    extrude(amount=F29_DEPTH)

    # F30 (on face) → F31 (cut)
    with BuildSketch(Plane.YZ.offset(35.56)):
        with Locations((-85.5667244971, 0)):
            Circle(F30_R)
    extrude(amount=-F31_DEPTH, mode=Mode.SUBTRACT)

    # F32 (on face) → F33 (join)
    with BuildSketch(Plane.YZ.offset(34.29)):
        with Locations((-85.5667244971, 0)):
            Circle(F32_R)
    extrude(amount=F33_DEPTH)

    # F48 (on face) → F49 (join)
    with BuildSketch(Plane(origin=(11.43, 0, 0), x_dir=(0, -1, 0), z_dir=(-1, 0, 0))):
        with BuildLine():
            ThreePointArc((77.3117244971, 0), (85.5667244971, -8.255), (93.8217244971, 0))
            Line((93.8217244971, 0), (77.3117244971, 0))
        make_face()
        with BuildLine():
            Line((77.3117244971, 0), (93.8217244971, 0))
            ThreePointArc((93.8217244971, 0), (85.5667244971, 8.255), (77.3117244971, 0))
        make_face()
    extrude(amount=F49_DEPTH)

    # F50 (on face) → F51 (cut)
    with BuildSketch(Plane(origin=(0, 0, 0), x_dir=(0, -1, 0), z_dir=(-1, 0, 0))):
        with Locations((85.5667244971, 0)):
            Circle(F50_R)
    extrude(amount=-F51_DEPTH, mode=Mode.SUBTRACT)

    # F52 (on face) → F53 (join)
    with BuildSketch(Plane(origin=(1.27, 0, 0), x_dir=(0, -1, 0), z_dir=(-1, 0, 0))):
        with Locations((85.5667244971, 0)):
            Circle(F52_R)
    extrude(amount=F53_DEPTH)


with BuildPart() as f15:
    # F14 (on face) → F15 (new body)
    with BuildSketch(Plane(origin=(0, 0, 0), x_dir=(1, 0, 0), z_dir=(0, 0, -1))):
        Polygon((24.13, 32.0158151418), (17.78, 32.0158151418), (11.43, 32.0158151418), (11.43, 12.9658151418), (24.13, 12.9658151418), align=None)
    extrude(amount=-F15_DEPTH)

    # F34 (on face) → F35 (join)
    with BuildSketch(Plane.YZ.offset(24.13)):
        with Locations((-22.4908151418, 0)):
            Circle(F34_R)
    extrude(amount=F35_DEPTH)

    # F36 (on face) → F37 (cut)
    with BuildSketch(Plane.YZ.offset(35.56)):
        with Locations((-22.4908151418, 0)):
            Circle(F36_R)
    extrude(amount=-F37_DEPTH, mode=Mode.SUBTRACT)

    # F38 (on face) → F39 (join)
    with BuildSketch(Plane.YZ.offset(34.29)):
        with Locations((-22.4908151418, 0)):
            Circle(F38_R)
    extrude(amount=F39_DEPTH)

    # F42 (on face) → F43 (join)
    with BuildSketch(Plane(origin=(11.43, 0, 0), x_dir=(0, -1, 0), z_dir=(-1, 0, 0))):
        with Locations((22.4908151418, 0)):
            Circle(F42_R)
    extrude(amount=F43_DEPTH)

    # F44 (on face) → F45 (cut)
    with BuildSketch(Plane(origin=(0, 0, 0), x_dir=(0, -1, 0), z_dir=(-1, 0, 0))):
        with Locations((22.4908151418, 0)):
            Circle(F44_R)
    extrude(amount=-F45_DEPTH, mode=Mode.SUBTRACT)

    # F46 (on face) → F47 (join)
    with BuildSketch(Plane(origin=(1.27, 0, 0), x_dir=(0, -1, 0), z_dir=(-1, 0, 0))):
        with Locations((22.4908151418, 0)):
            Circle(F46_R)
    extrude(amount=F47_DEPTH)


solid = Compound([f1.part, f7.part, f13.part, f15.part])
